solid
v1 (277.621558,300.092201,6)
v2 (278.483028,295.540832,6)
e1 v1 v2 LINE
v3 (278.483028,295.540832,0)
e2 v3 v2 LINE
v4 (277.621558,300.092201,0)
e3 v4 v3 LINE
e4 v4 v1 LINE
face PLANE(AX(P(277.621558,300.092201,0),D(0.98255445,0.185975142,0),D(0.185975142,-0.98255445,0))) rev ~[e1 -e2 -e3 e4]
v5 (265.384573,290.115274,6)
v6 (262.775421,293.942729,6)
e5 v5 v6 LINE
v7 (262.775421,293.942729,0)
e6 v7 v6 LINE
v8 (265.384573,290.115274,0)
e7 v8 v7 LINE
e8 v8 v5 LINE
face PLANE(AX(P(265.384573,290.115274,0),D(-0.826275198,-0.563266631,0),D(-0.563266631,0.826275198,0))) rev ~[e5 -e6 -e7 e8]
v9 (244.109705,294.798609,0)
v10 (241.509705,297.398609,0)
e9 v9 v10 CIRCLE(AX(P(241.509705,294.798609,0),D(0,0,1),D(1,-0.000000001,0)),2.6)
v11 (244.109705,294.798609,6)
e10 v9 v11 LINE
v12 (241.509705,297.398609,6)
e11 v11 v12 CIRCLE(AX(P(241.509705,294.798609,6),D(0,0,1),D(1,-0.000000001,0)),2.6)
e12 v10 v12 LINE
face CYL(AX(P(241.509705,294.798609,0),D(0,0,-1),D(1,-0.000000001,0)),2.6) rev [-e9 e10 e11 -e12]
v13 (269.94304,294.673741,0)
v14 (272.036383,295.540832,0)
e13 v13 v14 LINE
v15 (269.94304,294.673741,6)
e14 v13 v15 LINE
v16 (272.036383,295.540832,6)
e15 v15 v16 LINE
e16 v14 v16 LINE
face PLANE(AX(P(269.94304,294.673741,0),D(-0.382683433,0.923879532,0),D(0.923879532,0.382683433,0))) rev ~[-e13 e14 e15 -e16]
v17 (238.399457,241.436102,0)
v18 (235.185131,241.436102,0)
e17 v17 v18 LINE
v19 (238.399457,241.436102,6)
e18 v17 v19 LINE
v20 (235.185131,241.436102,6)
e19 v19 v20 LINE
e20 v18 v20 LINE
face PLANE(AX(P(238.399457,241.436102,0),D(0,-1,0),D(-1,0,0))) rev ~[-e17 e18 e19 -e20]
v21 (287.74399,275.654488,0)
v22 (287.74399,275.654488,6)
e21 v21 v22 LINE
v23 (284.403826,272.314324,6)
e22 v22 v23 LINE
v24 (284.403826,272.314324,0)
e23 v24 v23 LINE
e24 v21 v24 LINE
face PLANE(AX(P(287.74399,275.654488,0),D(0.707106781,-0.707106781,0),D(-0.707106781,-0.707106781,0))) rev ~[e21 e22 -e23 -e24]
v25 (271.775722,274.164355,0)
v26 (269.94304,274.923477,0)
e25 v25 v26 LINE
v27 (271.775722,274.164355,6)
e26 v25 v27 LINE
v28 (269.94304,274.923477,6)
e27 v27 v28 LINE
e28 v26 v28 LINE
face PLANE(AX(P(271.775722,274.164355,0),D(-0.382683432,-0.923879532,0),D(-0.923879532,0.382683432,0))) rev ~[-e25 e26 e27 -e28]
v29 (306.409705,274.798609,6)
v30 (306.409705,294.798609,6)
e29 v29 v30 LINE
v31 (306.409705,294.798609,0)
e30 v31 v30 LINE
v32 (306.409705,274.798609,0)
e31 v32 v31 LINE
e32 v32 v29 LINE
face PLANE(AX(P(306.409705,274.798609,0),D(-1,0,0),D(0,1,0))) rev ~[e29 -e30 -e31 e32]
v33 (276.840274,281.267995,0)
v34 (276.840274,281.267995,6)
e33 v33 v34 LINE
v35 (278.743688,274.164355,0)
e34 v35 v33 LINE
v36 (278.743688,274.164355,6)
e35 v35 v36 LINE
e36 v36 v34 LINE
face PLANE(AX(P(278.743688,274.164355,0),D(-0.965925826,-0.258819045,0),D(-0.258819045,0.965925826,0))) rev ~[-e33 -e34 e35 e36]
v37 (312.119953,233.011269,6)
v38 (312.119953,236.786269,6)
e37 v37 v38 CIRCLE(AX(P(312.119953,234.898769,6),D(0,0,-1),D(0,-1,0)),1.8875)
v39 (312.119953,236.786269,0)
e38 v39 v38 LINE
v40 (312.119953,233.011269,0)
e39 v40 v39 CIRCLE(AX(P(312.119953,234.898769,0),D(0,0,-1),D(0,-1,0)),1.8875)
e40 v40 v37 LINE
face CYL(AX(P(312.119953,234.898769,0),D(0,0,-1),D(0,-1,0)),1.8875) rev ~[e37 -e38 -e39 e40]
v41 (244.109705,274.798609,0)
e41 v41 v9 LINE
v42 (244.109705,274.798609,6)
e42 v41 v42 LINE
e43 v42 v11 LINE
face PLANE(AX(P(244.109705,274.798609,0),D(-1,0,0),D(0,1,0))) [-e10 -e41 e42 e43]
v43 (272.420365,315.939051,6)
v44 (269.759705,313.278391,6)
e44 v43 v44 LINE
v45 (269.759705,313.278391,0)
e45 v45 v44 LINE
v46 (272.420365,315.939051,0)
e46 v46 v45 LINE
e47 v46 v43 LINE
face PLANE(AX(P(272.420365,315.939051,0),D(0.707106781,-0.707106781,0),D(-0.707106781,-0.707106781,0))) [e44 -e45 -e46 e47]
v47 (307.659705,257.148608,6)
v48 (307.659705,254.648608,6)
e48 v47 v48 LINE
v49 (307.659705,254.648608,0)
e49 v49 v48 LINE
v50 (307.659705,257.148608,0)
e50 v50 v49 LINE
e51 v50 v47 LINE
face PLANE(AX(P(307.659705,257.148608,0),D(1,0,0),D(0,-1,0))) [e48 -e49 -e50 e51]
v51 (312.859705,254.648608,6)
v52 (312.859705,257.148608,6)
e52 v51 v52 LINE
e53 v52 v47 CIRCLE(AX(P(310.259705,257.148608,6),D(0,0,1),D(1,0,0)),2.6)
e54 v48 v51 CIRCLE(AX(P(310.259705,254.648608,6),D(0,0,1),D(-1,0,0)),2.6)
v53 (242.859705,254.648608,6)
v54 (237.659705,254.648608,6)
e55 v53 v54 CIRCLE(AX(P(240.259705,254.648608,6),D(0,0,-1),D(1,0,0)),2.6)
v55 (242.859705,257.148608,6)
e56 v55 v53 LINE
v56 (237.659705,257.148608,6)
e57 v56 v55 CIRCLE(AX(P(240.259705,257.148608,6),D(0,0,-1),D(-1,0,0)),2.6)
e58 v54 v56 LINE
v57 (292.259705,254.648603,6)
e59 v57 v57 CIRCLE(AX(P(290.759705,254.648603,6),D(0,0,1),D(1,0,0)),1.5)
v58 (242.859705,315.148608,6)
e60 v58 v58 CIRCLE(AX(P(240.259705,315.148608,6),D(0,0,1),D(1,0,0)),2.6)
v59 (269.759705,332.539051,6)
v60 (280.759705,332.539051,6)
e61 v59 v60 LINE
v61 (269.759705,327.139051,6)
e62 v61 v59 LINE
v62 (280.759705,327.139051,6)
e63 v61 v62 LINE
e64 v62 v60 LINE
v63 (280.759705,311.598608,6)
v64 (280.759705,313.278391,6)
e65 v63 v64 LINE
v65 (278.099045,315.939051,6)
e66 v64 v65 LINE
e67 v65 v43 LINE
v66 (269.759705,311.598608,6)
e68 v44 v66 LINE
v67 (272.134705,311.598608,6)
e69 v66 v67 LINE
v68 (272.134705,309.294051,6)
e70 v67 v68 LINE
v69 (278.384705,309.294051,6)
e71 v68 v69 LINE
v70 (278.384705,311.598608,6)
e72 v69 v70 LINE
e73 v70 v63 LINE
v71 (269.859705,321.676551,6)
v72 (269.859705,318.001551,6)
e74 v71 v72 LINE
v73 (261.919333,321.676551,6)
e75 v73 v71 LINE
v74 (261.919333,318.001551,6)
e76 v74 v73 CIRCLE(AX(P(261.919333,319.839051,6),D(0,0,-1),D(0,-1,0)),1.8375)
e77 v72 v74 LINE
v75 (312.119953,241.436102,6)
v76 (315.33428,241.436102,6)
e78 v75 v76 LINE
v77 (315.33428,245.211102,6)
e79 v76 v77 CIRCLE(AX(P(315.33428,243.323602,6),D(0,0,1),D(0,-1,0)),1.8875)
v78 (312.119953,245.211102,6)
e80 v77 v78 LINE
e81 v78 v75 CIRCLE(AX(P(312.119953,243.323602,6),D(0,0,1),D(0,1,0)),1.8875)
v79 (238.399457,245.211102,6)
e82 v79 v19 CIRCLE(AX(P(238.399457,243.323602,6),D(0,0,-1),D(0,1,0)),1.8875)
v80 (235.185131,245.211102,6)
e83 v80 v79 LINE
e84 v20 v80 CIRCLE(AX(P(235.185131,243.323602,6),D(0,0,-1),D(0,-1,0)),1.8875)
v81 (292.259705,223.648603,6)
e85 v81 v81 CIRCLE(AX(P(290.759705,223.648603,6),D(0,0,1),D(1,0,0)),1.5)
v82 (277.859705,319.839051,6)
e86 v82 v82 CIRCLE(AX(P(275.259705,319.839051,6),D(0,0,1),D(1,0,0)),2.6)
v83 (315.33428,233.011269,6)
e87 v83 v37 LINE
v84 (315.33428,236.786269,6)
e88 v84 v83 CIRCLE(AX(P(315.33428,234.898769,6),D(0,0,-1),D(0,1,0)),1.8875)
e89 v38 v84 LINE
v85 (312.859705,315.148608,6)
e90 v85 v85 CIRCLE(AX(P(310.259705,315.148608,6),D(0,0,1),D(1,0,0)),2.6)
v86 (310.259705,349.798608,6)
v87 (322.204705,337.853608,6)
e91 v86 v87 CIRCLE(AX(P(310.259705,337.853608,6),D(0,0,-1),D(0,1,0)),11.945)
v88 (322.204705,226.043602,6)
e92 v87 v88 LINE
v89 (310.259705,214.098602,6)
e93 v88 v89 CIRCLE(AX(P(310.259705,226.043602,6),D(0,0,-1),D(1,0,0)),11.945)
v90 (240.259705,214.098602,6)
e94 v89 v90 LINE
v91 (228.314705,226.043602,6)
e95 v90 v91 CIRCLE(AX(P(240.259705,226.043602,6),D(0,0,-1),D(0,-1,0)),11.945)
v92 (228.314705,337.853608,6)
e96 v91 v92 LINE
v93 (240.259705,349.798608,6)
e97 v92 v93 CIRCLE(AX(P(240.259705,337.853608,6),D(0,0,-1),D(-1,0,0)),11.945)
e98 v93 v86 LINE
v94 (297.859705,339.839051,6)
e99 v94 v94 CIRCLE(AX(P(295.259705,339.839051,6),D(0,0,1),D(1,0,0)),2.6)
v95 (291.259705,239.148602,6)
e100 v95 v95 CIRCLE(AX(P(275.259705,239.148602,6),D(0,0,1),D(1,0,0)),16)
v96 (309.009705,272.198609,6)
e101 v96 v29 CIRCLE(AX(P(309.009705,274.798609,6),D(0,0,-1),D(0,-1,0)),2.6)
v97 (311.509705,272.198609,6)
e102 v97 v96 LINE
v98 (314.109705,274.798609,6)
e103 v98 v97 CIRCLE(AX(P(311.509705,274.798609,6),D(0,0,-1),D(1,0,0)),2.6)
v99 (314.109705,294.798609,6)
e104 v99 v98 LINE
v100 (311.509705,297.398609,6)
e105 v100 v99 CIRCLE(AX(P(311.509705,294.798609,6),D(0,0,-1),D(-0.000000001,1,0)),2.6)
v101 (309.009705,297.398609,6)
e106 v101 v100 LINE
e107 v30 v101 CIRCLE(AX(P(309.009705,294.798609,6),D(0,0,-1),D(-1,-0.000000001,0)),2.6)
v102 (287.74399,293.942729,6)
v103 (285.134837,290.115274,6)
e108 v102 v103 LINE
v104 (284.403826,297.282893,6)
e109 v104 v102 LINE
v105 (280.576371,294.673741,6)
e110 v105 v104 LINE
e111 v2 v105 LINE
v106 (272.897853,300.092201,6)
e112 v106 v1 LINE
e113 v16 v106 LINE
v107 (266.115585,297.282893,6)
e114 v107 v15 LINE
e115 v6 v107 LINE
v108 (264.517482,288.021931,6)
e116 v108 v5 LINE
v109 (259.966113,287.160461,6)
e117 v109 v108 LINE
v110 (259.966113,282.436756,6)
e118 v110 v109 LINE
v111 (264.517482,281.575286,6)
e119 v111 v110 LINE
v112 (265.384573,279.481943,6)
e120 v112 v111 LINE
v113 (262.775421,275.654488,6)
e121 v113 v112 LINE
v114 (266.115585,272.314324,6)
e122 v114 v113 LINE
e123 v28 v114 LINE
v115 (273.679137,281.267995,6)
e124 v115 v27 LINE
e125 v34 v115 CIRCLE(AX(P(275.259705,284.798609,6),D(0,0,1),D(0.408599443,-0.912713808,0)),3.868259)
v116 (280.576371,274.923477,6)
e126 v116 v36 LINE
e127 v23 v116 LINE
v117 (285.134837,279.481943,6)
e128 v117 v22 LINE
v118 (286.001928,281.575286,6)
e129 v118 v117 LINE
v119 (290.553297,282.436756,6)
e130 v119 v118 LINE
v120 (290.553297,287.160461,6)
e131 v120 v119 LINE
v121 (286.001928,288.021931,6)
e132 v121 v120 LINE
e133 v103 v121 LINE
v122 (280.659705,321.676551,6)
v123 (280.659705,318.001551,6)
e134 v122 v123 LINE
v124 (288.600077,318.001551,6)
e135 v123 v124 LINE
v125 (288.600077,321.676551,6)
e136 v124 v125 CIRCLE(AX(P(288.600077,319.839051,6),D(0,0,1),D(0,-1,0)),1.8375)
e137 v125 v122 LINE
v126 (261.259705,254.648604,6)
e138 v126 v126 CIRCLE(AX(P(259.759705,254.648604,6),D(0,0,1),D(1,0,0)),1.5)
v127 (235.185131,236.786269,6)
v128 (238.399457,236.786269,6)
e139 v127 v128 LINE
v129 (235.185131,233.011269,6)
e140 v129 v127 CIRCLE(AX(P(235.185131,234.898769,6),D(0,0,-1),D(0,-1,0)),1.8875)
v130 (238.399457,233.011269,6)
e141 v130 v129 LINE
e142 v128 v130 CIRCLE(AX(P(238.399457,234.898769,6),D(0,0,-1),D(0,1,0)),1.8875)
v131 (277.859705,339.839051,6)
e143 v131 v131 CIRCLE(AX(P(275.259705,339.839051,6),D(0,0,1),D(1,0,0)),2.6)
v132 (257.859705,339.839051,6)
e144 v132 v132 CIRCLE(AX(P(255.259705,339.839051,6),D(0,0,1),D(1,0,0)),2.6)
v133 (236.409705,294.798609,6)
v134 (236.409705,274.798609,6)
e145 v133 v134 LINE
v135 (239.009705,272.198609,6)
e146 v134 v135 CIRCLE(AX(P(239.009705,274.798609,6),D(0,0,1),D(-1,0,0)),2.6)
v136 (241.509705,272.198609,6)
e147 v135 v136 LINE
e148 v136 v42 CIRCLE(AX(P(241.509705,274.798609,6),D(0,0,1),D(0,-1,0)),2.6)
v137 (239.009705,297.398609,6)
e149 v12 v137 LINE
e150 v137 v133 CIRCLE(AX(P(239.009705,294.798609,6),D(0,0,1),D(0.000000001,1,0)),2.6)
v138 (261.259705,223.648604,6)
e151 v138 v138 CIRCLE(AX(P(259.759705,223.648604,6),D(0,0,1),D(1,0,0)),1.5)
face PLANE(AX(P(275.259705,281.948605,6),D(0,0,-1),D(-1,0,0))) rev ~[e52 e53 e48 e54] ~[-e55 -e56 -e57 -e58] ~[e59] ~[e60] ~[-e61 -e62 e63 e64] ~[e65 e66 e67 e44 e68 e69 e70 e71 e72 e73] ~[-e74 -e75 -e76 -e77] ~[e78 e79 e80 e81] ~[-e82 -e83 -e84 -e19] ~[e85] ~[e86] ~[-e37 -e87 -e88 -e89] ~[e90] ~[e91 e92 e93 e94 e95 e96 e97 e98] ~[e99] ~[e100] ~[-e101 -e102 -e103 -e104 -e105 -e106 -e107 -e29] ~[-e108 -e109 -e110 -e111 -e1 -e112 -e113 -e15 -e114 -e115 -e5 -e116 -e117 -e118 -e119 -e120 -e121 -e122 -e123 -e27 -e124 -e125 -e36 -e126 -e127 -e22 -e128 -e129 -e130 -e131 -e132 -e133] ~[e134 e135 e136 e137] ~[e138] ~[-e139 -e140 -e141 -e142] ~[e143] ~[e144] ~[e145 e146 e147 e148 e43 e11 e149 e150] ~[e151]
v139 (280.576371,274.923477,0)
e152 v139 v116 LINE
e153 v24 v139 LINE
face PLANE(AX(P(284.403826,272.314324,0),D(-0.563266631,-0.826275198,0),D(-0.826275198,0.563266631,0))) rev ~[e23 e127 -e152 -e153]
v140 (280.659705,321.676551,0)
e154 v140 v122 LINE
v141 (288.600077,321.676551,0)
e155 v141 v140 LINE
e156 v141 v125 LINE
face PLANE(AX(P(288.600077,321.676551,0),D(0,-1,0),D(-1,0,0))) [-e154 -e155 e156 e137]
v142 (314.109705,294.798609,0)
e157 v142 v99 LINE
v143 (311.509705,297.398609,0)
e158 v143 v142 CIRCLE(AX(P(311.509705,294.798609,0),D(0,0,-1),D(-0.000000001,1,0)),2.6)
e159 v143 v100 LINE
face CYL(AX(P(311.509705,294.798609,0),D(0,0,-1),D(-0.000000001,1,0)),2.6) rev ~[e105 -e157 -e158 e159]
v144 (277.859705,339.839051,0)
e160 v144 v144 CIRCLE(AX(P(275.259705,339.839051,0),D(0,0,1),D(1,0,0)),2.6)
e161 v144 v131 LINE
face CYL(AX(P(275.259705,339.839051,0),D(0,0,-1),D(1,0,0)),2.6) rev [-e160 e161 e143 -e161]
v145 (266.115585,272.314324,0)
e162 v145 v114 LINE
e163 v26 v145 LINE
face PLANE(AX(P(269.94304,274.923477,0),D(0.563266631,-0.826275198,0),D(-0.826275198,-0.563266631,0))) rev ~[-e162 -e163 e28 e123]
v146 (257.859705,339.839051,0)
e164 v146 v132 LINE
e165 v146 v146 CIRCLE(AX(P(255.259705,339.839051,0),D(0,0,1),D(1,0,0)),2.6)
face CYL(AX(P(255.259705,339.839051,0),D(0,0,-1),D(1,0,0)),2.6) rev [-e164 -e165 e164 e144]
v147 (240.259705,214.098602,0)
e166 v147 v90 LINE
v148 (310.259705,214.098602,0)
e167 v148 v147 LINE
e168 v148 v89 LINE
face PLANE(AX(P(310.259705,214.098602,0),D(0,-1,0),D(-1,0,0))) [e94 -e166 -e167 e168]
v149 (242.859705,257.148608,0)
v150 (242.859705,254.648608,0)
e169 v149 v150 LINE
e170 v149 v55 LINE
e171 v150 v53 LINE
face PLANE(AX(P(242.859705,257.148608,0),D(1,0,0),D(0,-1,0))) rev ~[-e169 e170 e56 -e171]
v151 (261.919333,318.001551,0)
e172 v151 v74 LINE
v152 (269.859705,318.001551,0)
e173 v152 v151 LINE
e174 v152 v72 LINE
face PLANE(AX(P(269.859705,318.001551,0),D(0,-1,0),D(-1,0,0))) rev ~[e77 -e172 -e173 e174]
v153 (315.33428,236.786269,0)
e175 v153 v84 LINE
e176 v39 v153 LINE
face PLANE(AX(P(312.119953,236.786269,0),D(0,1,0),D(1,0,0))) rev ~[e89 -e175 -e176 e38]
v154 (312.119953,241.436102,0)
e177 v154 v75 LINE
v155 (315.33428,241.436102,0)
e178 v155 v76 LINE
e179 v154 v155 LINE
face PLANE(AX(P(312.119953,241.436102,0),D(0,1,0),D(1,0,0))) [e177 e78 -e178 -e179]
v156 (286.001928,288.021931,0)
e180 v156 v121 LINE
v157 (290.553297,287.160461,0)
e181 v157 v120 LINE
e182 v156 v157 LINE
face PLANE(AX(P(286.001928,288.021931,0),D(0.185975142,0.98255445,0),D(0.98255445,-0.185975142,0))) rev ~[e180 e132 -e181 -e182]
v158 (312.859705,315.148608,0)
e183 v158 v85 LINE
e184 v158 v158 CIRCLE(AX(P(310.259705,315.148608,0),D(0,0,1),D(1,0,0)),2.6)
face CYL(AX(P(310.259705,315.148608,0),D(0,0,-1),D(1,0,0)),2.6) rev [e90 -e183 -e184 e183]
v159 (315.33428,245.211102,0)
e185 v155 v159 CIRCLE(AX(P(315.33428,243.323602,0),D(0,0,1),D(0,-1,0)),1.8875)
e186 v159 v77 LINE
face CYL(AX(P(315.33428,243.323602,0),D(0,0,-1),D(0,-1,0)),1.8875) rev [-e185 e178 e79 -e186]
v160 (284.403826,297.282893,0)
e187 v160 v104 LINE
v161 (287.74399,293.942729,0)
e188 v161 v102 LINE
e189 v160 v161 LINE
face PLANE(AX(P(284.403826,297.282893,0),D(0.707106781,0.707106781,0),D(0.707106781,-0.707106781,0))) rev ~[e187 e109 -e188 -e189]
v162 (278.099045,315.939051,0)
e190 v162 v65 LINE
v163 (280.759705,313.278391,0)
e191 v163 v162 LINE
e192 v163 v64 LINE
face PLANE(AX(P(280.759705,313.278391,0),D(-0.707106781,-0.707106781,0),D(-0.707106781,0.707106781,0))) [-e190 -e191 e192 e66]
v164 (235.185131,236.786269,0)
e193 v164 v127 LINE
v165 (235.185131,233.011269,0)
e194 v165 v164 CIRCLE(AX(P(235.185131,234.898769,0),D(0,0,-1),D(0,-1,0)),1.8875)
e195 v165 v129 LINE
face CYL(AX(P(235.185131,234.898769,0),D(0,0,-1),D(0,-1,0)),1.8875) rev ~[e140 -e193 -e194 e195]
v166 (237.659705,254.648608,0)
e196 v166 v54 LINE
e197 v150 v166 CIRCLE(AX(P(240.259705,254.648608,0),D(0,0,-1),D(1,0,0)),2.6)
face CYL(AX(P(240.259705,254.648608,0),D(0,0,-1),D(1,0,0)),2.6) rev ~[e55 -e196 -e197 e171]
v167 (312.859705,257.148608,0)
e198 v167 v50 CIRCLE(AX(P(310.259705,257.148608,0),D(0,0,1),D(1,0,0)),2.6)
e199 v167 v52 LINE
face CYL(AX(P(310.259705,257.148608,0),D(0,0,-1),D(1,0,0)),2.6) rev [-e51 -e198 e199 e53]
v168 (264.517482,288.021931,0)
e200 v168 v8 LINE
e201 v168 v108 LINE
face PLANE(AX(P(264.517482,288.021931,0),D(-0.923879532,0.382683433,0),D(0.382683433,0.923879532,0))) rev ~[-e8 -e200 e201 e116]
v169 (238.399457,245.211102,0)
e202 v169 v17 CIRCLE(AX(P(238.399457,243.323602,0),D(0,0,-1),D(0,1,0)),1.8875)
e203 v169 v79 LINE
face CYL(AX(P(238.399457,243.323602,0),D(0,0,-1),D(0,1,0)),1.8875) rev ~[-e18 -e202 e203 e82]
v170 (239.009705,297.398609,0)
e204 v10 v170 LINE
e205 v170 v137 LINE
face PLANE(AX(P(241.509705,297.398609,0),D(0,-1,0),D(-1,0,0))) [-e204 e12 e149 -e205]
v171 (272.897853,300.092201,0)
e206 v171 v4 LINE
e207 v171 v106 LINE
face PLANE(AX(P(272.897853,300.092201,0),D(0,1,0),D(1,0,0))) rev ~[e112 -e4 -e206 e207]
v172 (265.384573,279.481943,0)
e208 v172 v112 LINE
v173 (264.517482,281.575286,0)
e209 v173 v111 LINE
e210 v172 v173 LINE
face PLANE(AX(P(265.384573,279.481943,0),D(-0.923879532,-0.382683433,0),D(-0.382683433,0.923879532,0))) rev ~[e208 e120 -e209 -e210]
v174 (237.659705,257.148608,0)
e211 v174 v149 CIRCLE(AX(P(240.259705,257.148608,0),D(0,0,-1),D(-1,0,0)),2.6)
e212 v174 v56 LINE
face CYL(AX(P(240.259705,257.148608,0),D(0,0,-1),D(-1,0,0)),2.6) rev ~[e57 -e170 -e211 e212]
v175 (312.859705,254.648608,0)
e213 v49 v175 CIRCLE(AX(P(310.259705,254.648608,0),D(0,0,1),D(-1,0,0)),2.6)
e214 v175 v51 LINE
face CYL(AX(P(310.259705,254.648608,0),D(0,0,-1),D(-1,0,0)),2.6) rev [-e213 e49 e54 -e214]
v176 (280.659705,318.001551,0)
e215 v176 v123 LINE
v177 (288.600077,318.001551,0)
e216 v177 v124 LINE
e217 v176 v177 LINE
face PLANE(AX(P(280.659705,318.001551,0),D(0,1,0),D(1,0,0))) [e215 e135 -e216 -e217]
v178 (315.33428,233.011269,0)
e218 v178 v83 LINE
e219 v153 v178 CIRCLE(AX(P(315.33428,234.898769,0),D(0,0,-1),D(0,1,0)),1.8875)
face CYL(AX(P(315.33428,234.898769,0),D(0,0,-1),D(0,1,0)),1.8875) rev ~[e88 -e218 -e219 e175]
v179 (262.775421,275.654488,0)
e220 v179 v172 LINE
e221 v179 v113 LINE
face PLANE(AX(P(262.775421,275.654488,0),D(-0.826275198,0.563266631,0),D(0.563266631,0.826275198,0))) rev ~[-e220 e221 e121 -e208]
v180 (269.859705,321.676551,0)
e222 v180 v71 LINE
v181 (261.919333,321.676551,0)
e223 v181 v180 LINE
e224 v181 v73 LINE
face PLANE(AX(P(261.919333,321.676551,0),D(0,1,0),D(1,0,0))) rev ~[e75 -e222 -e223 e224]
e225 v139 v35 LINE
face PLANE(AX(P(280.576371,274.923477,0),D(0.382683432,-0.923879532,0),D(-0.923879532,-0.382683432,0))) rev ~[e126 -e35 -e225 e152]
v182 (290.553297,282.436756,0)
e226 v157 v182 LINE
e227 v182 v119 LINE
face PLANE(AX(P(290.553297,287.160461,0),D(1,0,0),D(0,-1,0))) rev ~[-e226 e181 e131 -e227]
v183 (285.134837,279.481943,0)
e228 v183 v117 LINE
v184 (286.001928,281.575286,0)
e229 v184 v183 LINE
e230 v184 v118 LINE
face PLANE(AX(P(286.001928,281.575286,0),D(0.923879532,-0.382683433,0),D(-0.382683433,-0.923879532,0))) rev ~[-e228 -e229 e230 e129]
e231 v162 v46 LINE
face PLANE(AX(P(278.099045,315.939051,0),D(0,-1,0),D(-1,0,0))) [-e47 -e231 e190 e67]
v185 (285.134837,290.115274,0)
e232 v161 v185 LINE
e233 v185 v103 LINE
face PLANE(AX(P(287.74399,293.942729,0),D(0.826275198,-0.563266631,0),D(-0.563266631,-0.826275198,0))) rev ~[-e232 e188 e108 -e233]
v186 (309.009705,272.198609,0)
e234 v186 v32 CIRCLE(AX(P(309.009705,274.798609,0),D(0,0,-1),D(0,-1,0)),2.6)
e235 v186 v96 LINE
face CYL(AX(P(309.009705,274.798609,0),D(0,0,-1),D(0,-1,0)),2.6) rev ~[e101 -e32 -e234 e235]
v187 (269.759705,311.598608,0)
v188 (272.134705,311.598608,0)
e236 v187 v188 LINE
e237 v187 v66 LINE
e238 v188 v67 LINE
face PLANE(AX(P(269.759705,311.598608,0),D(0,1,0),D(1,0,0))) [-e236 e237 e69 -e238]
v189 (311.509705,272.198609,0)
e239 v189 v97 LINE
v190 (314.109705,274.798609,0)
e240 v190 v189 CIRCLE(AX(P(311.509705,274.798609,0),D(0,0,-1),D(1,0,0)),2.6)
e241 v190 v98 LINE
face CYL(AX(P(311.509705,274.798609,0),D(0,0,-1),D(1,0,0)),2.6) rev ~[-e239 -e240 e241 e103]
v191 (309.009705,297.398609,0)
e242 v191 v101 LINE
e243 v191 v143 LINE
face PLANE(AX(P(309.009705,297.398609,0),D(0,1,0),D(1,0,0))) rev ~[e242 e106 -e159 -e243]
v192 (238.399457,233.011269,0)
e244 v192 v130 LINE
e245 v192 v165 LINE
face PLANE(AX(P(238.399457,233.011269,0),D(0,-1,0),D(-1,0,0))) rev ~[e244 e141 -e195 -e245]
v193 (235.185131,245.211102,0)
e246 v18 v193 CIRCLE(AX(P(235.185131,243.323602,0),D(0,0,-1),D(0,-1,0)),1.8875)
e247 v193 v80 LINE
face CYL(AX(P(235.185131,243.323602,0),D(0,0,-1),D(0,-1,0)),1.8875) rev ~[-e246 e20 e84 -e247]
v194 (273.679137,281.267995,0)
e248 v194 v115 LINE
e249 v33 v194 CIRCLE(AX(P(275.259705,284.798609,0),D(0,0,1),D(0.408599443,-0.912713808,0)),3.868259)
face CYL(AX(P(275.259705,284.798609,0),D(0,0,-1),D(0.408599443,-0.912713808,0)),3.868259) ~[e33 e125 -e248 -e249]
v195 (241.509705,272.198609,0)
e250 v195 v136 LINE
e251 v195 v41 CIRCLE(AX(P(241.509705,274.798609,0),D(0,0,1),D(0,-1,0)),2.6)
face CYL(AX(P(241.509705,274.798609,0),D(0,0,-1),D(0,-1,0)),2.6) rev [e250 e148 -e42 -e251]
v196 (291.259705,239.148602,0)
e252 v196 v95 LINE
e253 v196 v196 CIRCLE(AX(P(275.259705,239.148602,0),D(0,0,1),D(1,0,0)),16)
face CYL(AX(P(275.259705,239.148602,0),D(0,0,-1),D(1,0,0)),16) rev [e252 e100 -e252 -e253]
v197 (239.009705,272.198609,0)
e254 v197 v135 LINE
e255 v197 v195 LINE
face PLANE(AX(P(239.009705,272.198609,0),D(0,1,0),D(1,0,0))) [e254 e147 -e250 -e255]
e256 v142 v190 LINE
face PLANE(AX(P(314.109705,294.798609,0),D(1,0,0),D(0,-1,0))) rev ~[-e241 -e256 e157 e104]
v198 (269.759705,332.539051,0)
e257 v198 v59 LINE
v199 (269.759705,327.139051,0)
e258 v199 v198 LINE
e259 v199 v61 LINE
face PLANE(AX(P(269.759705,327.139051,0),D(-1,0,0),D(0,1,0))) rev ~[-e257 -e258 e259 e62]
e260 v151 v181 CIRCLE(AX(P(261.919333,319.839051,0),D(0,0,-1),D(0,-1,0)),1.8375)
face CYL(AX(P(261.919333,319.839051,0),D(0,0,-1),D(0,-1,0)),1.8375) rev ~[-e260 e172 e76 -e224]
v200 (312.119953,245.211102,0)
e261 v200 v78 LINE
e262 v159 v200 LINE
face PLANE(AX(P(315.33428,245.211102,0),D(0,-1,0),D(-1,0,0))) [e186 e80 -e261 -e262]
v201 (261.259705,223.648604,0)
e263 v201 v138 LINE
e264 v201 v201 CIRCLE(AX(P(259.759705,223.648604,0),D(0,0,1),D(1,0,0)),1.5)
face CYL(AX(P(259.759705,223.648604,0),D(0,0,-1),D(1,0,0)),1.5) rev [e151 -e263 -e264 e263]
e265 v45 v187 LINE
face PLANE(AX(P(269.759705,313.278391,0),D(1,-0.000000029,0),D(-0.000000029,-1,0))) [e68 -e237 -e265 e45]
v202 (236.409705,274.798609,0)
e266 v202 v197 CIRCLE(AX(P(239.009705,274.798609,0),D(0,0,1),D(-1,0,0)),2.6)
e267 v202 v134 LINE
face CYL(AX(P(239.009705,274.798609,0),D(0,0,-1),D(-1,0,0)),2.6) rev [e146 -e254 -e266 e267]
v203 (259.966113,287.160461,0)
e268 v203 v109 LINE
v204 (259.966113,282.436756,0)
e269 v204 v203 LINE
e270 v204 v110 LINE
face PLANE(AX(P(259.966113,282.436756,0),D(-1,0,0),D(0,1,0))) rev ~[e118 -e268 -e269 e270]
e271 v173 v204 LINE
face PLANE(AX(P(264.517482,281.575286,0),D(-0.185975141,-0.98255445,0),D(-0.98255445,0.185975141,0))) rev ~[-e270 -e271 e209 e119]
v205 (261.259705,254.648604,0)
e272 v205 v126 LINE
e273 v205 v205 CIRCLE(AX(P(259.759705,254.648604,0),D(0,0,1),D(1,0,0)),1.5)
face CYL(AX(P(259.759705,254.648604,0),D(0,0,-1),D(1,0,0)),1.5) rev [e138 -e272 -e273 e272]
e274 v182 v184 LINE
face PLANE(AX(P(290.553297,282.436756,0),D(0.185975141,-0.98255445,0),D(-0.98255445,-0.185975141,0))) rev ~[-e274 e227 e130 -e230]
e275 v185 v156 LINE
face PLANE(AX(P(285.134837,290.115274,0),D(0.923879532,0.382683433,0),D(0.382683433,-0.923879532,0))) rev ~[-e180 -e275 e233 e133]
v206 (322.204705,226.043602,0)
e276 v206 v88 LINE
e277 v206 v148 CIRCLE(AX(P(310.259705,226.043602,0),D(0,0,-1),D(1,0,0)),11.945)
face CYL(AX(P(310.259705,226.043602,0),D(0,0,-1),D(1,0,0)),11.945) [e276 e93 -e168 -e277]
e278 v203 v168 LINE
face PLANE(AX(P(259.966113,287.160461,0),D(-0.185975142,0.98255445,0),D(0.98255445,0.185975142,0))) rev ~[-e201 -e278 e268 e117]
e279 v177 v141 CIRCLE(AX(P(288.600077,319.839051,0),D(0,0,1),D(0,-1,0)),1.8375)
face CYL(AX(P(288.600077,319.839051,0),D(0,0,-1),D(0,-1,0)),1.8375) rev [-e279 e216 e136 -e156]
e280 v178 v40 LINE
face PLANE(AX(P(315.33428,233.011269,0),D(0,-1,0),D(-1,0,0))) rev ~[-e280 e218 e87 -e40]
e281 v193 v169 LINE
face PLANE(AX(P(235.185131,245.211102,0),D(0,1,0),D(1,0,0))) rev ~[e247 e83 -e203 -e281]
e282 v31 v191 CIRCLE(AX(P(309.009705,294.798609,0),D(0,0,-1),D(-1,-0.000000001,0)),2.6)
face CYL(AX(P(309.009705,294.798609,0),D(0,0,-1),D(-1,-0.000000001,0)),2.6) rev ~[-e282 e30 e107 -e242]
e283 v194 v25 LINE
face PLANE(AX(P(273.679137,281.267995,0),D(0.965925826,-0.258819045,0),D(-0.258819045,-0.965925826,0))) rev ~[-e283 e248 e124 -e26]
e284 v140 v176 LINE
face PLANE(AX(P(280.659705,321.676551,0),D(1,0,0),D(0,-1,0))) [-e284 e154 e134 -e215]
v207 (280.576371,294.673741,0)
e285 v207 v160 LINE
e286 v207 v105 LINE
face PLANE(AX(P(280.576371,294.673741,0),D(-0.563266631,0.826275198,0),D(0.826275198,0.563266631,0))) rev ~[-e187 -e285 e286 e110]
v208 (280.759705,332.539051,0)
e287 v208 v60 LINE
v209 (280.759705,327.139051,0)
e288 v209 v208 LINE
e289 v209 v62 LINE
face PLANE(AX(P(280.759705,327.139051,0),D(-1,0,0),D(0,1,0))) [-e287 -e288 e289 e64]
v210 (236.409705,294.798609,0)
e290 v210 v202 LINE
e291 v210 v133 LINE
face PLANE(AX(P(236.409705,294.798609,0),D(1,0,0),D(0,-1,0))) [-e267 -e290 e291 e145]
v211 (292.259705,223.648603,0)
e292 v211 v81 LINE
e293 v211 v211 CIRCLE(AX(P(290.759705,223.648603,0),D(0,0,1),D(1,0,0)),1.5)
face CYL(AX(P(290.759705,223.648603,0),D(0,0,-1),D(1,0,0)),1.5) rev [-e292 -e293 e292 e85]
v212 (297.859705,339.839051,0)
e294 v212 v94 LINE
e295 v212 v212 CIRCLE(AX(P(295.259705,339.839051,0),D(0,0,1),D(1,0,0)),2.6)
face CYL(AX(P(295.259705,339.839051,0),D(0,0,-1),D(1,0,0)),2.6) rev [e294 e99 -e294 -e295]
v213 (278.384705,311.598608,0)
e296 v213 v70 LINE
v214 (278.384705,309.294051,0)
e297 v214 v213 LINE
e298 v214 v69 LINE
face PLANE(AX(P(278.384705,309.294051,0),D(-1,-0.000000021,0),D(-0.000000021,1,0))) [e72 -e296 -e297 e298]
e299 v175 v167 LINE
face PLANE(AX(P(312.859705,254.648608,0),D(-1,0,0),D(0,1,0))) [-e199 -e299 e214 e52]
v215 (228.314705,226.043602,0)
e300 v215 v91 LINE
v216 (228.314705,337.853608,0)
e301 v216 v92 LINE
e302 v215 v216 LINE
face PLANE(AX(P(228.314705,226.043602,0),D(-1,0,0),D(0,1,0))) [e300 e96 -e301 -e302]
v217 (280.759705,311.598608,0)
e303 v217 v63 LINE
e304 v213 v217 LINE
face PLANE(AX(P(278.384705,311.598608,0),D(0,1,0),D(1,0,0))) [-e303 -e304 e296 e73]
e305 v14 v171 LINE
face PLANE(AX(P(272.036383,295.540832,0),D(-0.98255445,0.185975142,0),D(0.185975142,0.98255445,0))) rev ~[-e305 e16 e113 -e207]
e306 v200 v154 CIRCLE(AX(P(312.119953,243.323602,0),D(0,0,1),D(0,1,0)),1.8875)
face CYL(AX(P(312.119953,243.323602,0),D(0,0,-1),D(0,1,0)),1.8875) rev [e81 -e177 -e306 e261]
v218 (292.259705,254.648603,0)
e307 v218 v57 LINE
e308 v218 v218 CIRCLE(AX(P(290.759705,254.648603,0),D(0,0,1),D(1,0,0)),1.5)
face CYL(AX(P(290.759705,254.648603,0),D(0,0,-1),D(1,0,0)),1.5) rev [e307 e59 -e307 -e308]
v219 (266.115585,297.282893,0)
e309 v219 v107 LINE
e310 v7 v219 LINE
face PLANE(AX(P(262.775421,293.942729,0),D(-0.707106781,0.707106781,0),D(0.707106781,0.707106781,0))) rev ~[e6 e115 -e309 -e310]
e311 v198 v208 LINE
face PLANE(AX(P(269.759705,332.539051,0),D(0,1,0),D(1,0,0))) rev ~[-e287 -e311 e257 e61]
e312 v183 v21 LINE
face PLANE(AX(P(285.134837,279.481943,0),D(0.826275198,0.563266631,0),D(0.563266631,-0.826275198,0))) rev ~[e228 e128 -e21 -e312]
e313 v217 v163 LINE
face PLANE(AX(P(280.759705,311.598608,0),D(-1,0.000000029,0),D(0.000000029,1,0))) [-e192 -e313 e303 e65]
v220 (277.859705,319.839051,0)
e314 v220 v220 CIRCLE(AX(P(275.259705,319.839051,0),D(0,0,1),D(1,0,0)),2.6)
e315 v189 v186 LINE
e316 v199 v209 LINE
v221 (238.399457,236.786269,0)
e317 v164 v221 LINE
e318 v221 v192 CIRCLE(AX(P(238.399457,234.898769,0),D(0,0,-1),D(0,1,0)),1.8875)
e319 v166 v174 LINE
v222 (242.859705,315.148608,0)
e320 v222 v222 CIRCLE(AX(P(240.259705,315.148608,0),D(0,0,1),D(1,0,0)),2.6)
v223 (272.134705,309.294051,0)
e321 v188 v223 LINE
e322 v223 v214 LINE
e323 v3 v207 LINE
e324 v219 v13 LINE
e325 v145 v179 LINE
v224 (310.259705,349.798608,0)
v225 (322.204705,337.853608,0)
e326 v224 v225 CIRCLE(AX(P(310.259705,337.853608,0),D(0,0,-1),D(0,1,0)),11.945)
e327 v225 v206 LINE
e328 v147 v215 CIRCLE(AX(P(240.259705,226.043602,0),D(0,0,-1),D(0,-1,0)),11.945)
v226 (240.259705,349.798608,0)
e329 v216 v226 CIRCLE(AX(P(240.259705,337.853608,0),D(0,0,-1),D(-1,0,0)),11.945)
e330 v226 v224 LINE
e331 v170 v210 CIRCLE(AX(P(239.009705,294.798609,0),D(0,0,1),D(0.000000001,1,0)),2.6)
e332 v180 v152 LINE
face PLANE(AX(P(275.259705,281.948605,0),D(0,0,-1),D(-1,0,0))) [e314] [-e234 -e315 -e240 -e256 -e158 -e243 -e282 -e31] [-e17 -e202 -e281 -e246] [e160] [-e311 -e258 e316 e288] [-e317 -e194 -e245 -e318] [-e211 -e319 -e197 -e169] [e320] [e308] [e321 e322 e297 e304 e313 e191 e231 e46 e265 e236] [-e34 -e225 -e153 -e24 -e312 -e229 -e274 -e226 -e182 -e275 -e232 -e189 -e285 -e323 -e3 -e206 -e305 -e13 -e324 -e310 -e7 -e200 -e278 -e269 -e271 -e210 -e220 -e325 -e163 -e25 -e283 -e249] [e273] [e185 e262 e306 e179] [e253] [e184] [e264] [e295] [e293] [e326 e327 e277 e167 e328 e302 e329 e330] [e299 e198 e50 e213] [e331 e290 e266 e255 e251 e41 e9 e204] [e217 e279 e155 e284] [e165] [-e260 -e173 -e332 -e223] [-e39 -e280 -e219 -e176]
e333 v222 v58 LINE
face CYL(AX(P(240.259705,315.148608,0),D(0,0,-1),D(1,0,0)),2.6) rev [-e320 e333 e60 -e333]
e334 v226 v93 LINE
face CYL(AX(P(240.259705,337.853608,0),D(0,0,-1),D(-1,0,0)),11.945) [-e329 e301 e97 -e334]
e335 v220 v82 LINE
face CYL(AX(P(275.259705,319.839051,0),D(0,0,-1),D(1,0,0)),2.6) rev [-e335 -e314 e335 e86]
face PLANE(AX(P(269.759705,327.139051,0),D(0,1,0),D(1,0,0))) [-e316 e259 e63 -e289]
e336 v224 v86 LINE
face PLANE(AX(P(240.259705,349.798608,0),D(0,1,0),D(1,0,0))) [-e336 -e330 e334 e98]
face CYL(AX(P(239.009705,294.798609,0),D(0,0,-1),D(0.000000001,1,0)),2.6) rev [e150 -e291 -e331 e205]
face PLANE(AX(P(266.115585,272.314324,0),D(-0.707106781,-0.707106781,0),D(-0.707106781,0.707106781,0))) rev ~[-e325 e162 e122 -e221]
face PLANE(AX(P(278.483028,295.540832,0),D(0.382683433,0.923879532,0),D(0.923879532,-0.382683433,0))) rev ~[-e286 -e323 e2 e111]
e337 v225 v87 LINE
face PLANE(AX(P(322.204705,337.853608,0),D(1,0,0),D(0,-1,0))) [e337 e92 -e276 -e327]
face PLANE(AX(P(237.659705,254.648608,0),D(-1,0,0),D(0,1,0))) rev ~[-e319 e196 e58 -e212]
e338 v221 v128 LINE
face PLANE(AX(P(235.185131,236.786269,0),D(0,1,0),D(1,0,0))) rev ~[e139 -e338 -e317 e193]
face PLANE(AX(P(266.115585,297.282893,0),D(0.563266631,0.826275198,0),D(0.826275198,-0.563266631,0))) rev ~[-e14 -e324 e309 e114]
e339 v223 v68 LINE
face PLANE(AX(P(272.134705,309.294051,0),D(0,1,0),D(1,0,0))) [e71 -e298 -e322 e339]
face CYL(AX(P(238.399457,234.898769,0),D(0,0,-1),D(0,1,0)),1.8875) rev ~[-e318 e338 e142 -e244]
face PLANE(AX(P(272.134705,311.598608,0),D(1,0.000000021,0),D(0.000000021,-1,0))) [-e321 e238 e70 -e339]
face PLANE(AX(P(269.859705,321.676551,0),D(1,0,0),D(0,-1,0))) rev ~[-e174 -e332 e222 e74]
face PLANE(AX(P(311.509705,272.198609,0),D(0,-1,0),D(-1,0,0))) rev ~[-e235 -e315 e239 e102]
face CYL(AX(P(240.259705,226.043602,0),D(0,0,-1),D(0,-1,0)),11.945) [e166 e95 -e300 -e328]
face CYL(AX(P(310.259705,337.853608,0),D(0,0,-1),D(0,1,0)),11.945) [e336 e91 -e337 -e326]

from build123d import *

# Parameters (mm, degrees)
CROQUIS1_R              = 1.5
CROQUIS1_R_2            = 16
CROQUIS1_R_3            = 2.6
CROQUIS1_W              = 11
CROQUIS1_H              = 5.4
SALIENTE_EXTRUIR1_DEPTH = 6


with BuildPart() as part:
    # Croquis1 → Saliente-Extruir1 (new body)
    with BuildSketch(Plane.XY):
        with BuildLine():
            Line((240.259705315, 349.798608336), (310.25970522, 349.798608336))
            ThreePointArc((310.25970522, 349.798608336), (318.706095722, 346.299998838), (322.204705221, 337.853608336))
            Line((322.204705221, 337.853608336), (322.20470522, 226.043602373))
            ThreePointArc((322.20470522, 226.043602373), (318.706095721, 217.597211872), (310.25970522, 214.098602373))
            Line((310.25970522, 214.098602373), (240.259705314, 214.098602373))
            ThreePointArc((240.259705314, 214.098602373), (231.813314813, 217.597211873), (228.314705315, 226.043602374))
            Line((228.314705315, 226.043602374), (228.314705315, 337.853608336))
            ThreePointArc((228.314705315, 337.853608336), (231.813314814, 346.299998837), (240.259705315, 349.798608336))
        make_face()
        with Locations((259.759705267, 223.648603564)):
            Circle(CROQUIS1_R, mode=Mode.SUBTRACT)
        with Locations((290.759705267, 223.648603373)):
            Circle(CROQUIS1_R, mode=Mode.SUBTRACT)
        with Locations((290.759705459, 254.648603373)):
            Circle(CROQUIS1_R, mode=Mode.SUBTRACT)
        with Locations((259.759705459, 254.648603564)):
            Circle(CROQUIS1_R, mode=Mode.SUBTRACT)
        with Locations((275.259705363, 239.148602396)):
            Circle(CROQUIS1_R_2, mode=Mode.SUBTRACT)
        with Locations((310.25970522, 315.148608341)):
            Circle(CROQUIS1_R_3, mode=Mode.SUBTRACT)
        with Locations((240.259705315, 315.148608341)):
            Circle(CROQUIS1_R_3, mode=Mode.SUBTRACT)
        with Locations((275.259705268, 319.839051264)):
            Circle(CROQUIS1_R_3, mode=Mode.SUBTRACT)
        with Locations((295.259705059, 339.839051264)):
            Circle(CROQUIS1_R_3, mode=Mode.SUBTRACT)
        with Locations((275.259705268, 339.839051072)):
            Circle(CROQUIS1_R_3, mode=Mode.SUBTRACT)
        with Locations((255.259705059, 339.839051264)):
            Circle(CROQUIS1_R_3, mode=Mode.SUBTRACT)
        with BuildLine():
            Line((312.85970522, 254.648608341), (312.85970522, 257.148608341))
            ThreePointArc((312.85970522, 257.148608341), (310.25970522, 259.748608341), (307.65970522, 257.148608341))
            Line((307.65970522, 257.148608341), (307.65970522, 254.648608341))
            ThreePointArc((307.65970522, 254.648608341), (310.25970522, 252.048608341), (312.85970522, 254.648608341))
        make_face(mode=Mode.SUBTRACT)
        with BuildLine():
            Line((312.119953493, 241.436102396), (315.334279571, 241.436102396))
            ThreePointArc((315.334279571, 241.436102396), (317.221779571, 243.323602396), (315.334279571, 245.211102396))
            Line((315.334279571, 245.211102396), (312.119953493, 245.211102396))
            ThreePointArc((312.119953493, 245.211102396), (310.232453493, 243.323602396), (312.119953493, 241.436102396))
        make_face(mode=Mode.SUBTRACT)
        with BuildLine():
            Line((315.334279571, 233.011268799), (312.119953493, 233.011268799))
            ThreePointArc((312.119953493, 233.011268799), (310.232453493, 234.898768799), (312.119953493, 236.786268799))
            Line((312.119953493, 236.786268799), (315.334279571, 236.786268799))
            ThreePointArc((315.334279571, 236.786268799), (317.221779571, 234.898768799), (315.334279571, 233.011268799))
        make_face(mode=Mode.SUBTRACT)
        with BuildLine():
            Line((238.399457042, 233.011268799), (235.185130964, 233.011268799))
            ThreePointArc((235.185130964, 233.011268799), (233.297630964, 234.898768799), (235.185130964, 236.786268799))
            Line((235.185130964, 236.786268799), (238.399457042, 236.786268799))
            ThreePointArc((238.399457042, 236.786268799), (240.286957042, 234.898768799), (238.399457042, 233.011268799))
        make_face(mode=Mode.SUBTRACT)
        with BuildLine():
            Line((238.399457042, 241.436102396), (235.185130964, 241.436102396))
            ThreePointArc((235.185130964, 241.436102396), (233.297630964, 243.323602396), (235.185130964, 245.211102396))
            Line((235.185130964, 245.211102396), (238.399457042, 245.211102396))
            ThreePointArc((238.399457042, 245.211102396), (240.286957042, 243.323602396), (238.399457042, 241.436102396))
        make_face(mode=Mode.SUBTRACT)
        with BuildLine():
            Line((237.659705315, 254.648608341), (237.659705315, 257.148608341))
            ThreePointArc((237.659705315, 257.148608341), (240.259705315, 259.748608341), (242.859705315, 257.148608341))
            Line((242.859705315, 257.148608341), (242.859705315, 254.648608341))
            ThreePointArc((242.859705315, 254.648608341), (240.259705315, 252.048608341), (237.659705315, 254.648608341))
        make_face(mode=Mode.SUBTRACT)
        with BuildLine():
            Line((264.517482129, 281.575286085), (259.966113425, 282.436756346))
            Line((259.966113425, 282.436756346), (259.966113425, 287.16046109))
            Line((259.966113425, 287.16046109), (264.517482129, 288.021931352))
            Line((264.517482129, 288.021931352), (265.38457315, 290.115274253))
            Line((265.38457315, 290.115274253), (262.775420938, 293.942729391))
            Line((262.775420938, 293.942729391), (266.115584595, 297.282893048))
            Line((266.115584595, 297.282893048), (269.943039733, 294.673740836))
            Line((269.943039733, 294.673740836), (272.036382634, 295.540831857))
            Line((272.036382634, 295.540831857), (272.897852896, 300.092200561))
            Line((272.897852896, 300.092200561), (277.621557639, 300.092200561))
            Line((277.621557639, 300.092200561), (278.483027901, 295.540831857))
            Line((278.483027901, 295.540831857), (280.576370802, 294.673740836))
            Line((280.576370802, 294.673740836), (284.40382594, 297.282893048))
            Line((284.40382594, 297.282893048), (287.743989597, 293.942729391))
            Line((287.743989597, 293.942729391), (285.134837385, 290.115274253))
            Line((285.134837385, 290.115274253), (286.001928406, 288.021931352))
            Line((286.001928406, 288.021931352), (290.55329711, 287.16046109))
            Line((290.55329711, 287.16046109), (290.55329711, 282.436756346))
            Line((290.55329711, 282.436756346), (286.001928406, 281.575286085))
            Line((286.001928406, 281.575286085), (285.134837385, 279.481943184))
            Line((285.134837385, 279.481943184), (287.743989597, 275.654488046))
            Line((287.743989597, 275.654488046), (284.40382594, 272.314324389))
            Line((284.40382594, 272.314324389), (280.576370802, 274.923476601))
            Line((280.576370802, 274.923476601), (278.743688474, 274.164354725))
            Line((278.743688474, 274.164354725), (276.840273676, 281.267995461))
            ThreePointArc((276.840273676, 281.267995461), (275.259705267, 288.66686756), (273.679136859, 281.267995461))
            Line((273.679136859, 281.267995461), (271.775722061, 274.164354725))
            Line((271.775722061, 274.164354725), (269.943039733, 274.923476601))
            Line((269.943039733, 274.923476601), (266.115584595, 272.314324389))
            Line((266.115584595, 272.314324389), (262.775420938, 275.654488046))
            Line((262.775420938, 275.654488046), (265.38457315, 279.481943184))
            Line((265.38457315, 279.481943184), (264.517482129, 281.575286085))
        make_face(mode=Mode.SUBTRACT)
        with BuildLine():
            Line((244.109705315, 274.798608718), (244.109705315, 294.798608718))
            ThreePointArc((244.109705315, 294.798608718), (243.348182946, 296.63708635), (241.509705315, 297.398608718))
            Line((241.509705315, 297.398608718), (239.009705315, 297.398608718))
            ThreePointArc((239.009705315, 297.398608718), (237.171227684, 296.63708635), (236.409705315, 294.798608718))
            Line((236.409705315, 294.798608718), (236.409705315, 274.798608718))
            ThreePointArc((236.409705315, 274.798608718), (237.171227684, 272.960131087), (239.009705315, 272.198608718))
            Line((239.009705315, 272.198608718), (241.509705315, 272.198608718))
            ThreePointArc((241.509705315, 272.198608718), (243.348182946, 272.960131087), (244.109705315, 274.798608718))
        make_face(mode=Mode.SUBTRACT)
        with BuildLine():
            Line((314.10970522, 294.798608718), (314.10970522, 274.798608718))
            ThreePointArc((314.10970522, 274.798608718), (313.348182851, 272.960131087), (311.50970522, 272.198608718))
            Line((311.50970522, 272.198608718), (309.00970522, 272.198608718))
            ThreePointArc((309.00970522, 272.198608718), (307.171227589, 272.960131087), (306.40970522, 274.798608718))
            Line((306.40970522, 274.798608718), (306.40970522, 294.798608718))
            ThreePointArc((306.40970522, 294.798608718), (307.171227589, 296.63708635), (309.00970522, 297.398608718))
            Line((309.00970522, 297.398608718), (311.50970522, 297.398608718))
            ThreePointArc((311.50970522, 297.398608718), (313.348182851, 296.63708635), (314.10970522, 294.798608718))
        make_face(mode=Mode.SUBTRACT)
        Polygon((272.134705268, 309.294051072), (278.384705268, 309.294051072), (278.38470522, 311.598608336), (280.75970522, 311.598608336), (280.759705268, 313.278390901), (278.099045096, 315.939051072), (272.420365439, 315.939051072), (269.759705268, 313.278390901), (269.75970522, 311.598608336), (272.13470522, 311.598608336), align=None, mode=Mode.SUBTRACT)
        with BuildLine():
            Line((269.859705268, 318.001551072), (261.919333168, 318.001551072))
            ThreePointArc((261.919333168, 318.001551072), (260.081833168, 319.839051072), (261.919333168, 321.676551072))
            Line((261.919333168, 321.676551072), (269.859705268, 321.676551072))
            Line((269.859705268, 321.676551072), (269.859705268, 318.001551072))
        make_face(mode=Mode.SUBTRACT)
        with BuildLine():
            Line((288.600077367, 321.676551072), (280.659705268, 321.676551072))
            Line((280.659705268, 321.676551072), (280.659705268, 318.001551072))
            Line((280.659705268, 318.001551072), (288.600077367, 318.001551072))
            ThreePointArc((288.600077367, 318.001551072), (290.437577367, 319.839051072), (288.600077367, 321.676551072))
        make_face(mode=Mode.SUBTRACT)
        with Locations((275.259705268, 329.839051072)):
            Rectangle(CROQUIS1_W, CROQUIS1_H, mode=Mode.SUBTRACT)
    extrude(amount=SALIENTE_EXTRUIR1_DEPTH)


solid = part.part
